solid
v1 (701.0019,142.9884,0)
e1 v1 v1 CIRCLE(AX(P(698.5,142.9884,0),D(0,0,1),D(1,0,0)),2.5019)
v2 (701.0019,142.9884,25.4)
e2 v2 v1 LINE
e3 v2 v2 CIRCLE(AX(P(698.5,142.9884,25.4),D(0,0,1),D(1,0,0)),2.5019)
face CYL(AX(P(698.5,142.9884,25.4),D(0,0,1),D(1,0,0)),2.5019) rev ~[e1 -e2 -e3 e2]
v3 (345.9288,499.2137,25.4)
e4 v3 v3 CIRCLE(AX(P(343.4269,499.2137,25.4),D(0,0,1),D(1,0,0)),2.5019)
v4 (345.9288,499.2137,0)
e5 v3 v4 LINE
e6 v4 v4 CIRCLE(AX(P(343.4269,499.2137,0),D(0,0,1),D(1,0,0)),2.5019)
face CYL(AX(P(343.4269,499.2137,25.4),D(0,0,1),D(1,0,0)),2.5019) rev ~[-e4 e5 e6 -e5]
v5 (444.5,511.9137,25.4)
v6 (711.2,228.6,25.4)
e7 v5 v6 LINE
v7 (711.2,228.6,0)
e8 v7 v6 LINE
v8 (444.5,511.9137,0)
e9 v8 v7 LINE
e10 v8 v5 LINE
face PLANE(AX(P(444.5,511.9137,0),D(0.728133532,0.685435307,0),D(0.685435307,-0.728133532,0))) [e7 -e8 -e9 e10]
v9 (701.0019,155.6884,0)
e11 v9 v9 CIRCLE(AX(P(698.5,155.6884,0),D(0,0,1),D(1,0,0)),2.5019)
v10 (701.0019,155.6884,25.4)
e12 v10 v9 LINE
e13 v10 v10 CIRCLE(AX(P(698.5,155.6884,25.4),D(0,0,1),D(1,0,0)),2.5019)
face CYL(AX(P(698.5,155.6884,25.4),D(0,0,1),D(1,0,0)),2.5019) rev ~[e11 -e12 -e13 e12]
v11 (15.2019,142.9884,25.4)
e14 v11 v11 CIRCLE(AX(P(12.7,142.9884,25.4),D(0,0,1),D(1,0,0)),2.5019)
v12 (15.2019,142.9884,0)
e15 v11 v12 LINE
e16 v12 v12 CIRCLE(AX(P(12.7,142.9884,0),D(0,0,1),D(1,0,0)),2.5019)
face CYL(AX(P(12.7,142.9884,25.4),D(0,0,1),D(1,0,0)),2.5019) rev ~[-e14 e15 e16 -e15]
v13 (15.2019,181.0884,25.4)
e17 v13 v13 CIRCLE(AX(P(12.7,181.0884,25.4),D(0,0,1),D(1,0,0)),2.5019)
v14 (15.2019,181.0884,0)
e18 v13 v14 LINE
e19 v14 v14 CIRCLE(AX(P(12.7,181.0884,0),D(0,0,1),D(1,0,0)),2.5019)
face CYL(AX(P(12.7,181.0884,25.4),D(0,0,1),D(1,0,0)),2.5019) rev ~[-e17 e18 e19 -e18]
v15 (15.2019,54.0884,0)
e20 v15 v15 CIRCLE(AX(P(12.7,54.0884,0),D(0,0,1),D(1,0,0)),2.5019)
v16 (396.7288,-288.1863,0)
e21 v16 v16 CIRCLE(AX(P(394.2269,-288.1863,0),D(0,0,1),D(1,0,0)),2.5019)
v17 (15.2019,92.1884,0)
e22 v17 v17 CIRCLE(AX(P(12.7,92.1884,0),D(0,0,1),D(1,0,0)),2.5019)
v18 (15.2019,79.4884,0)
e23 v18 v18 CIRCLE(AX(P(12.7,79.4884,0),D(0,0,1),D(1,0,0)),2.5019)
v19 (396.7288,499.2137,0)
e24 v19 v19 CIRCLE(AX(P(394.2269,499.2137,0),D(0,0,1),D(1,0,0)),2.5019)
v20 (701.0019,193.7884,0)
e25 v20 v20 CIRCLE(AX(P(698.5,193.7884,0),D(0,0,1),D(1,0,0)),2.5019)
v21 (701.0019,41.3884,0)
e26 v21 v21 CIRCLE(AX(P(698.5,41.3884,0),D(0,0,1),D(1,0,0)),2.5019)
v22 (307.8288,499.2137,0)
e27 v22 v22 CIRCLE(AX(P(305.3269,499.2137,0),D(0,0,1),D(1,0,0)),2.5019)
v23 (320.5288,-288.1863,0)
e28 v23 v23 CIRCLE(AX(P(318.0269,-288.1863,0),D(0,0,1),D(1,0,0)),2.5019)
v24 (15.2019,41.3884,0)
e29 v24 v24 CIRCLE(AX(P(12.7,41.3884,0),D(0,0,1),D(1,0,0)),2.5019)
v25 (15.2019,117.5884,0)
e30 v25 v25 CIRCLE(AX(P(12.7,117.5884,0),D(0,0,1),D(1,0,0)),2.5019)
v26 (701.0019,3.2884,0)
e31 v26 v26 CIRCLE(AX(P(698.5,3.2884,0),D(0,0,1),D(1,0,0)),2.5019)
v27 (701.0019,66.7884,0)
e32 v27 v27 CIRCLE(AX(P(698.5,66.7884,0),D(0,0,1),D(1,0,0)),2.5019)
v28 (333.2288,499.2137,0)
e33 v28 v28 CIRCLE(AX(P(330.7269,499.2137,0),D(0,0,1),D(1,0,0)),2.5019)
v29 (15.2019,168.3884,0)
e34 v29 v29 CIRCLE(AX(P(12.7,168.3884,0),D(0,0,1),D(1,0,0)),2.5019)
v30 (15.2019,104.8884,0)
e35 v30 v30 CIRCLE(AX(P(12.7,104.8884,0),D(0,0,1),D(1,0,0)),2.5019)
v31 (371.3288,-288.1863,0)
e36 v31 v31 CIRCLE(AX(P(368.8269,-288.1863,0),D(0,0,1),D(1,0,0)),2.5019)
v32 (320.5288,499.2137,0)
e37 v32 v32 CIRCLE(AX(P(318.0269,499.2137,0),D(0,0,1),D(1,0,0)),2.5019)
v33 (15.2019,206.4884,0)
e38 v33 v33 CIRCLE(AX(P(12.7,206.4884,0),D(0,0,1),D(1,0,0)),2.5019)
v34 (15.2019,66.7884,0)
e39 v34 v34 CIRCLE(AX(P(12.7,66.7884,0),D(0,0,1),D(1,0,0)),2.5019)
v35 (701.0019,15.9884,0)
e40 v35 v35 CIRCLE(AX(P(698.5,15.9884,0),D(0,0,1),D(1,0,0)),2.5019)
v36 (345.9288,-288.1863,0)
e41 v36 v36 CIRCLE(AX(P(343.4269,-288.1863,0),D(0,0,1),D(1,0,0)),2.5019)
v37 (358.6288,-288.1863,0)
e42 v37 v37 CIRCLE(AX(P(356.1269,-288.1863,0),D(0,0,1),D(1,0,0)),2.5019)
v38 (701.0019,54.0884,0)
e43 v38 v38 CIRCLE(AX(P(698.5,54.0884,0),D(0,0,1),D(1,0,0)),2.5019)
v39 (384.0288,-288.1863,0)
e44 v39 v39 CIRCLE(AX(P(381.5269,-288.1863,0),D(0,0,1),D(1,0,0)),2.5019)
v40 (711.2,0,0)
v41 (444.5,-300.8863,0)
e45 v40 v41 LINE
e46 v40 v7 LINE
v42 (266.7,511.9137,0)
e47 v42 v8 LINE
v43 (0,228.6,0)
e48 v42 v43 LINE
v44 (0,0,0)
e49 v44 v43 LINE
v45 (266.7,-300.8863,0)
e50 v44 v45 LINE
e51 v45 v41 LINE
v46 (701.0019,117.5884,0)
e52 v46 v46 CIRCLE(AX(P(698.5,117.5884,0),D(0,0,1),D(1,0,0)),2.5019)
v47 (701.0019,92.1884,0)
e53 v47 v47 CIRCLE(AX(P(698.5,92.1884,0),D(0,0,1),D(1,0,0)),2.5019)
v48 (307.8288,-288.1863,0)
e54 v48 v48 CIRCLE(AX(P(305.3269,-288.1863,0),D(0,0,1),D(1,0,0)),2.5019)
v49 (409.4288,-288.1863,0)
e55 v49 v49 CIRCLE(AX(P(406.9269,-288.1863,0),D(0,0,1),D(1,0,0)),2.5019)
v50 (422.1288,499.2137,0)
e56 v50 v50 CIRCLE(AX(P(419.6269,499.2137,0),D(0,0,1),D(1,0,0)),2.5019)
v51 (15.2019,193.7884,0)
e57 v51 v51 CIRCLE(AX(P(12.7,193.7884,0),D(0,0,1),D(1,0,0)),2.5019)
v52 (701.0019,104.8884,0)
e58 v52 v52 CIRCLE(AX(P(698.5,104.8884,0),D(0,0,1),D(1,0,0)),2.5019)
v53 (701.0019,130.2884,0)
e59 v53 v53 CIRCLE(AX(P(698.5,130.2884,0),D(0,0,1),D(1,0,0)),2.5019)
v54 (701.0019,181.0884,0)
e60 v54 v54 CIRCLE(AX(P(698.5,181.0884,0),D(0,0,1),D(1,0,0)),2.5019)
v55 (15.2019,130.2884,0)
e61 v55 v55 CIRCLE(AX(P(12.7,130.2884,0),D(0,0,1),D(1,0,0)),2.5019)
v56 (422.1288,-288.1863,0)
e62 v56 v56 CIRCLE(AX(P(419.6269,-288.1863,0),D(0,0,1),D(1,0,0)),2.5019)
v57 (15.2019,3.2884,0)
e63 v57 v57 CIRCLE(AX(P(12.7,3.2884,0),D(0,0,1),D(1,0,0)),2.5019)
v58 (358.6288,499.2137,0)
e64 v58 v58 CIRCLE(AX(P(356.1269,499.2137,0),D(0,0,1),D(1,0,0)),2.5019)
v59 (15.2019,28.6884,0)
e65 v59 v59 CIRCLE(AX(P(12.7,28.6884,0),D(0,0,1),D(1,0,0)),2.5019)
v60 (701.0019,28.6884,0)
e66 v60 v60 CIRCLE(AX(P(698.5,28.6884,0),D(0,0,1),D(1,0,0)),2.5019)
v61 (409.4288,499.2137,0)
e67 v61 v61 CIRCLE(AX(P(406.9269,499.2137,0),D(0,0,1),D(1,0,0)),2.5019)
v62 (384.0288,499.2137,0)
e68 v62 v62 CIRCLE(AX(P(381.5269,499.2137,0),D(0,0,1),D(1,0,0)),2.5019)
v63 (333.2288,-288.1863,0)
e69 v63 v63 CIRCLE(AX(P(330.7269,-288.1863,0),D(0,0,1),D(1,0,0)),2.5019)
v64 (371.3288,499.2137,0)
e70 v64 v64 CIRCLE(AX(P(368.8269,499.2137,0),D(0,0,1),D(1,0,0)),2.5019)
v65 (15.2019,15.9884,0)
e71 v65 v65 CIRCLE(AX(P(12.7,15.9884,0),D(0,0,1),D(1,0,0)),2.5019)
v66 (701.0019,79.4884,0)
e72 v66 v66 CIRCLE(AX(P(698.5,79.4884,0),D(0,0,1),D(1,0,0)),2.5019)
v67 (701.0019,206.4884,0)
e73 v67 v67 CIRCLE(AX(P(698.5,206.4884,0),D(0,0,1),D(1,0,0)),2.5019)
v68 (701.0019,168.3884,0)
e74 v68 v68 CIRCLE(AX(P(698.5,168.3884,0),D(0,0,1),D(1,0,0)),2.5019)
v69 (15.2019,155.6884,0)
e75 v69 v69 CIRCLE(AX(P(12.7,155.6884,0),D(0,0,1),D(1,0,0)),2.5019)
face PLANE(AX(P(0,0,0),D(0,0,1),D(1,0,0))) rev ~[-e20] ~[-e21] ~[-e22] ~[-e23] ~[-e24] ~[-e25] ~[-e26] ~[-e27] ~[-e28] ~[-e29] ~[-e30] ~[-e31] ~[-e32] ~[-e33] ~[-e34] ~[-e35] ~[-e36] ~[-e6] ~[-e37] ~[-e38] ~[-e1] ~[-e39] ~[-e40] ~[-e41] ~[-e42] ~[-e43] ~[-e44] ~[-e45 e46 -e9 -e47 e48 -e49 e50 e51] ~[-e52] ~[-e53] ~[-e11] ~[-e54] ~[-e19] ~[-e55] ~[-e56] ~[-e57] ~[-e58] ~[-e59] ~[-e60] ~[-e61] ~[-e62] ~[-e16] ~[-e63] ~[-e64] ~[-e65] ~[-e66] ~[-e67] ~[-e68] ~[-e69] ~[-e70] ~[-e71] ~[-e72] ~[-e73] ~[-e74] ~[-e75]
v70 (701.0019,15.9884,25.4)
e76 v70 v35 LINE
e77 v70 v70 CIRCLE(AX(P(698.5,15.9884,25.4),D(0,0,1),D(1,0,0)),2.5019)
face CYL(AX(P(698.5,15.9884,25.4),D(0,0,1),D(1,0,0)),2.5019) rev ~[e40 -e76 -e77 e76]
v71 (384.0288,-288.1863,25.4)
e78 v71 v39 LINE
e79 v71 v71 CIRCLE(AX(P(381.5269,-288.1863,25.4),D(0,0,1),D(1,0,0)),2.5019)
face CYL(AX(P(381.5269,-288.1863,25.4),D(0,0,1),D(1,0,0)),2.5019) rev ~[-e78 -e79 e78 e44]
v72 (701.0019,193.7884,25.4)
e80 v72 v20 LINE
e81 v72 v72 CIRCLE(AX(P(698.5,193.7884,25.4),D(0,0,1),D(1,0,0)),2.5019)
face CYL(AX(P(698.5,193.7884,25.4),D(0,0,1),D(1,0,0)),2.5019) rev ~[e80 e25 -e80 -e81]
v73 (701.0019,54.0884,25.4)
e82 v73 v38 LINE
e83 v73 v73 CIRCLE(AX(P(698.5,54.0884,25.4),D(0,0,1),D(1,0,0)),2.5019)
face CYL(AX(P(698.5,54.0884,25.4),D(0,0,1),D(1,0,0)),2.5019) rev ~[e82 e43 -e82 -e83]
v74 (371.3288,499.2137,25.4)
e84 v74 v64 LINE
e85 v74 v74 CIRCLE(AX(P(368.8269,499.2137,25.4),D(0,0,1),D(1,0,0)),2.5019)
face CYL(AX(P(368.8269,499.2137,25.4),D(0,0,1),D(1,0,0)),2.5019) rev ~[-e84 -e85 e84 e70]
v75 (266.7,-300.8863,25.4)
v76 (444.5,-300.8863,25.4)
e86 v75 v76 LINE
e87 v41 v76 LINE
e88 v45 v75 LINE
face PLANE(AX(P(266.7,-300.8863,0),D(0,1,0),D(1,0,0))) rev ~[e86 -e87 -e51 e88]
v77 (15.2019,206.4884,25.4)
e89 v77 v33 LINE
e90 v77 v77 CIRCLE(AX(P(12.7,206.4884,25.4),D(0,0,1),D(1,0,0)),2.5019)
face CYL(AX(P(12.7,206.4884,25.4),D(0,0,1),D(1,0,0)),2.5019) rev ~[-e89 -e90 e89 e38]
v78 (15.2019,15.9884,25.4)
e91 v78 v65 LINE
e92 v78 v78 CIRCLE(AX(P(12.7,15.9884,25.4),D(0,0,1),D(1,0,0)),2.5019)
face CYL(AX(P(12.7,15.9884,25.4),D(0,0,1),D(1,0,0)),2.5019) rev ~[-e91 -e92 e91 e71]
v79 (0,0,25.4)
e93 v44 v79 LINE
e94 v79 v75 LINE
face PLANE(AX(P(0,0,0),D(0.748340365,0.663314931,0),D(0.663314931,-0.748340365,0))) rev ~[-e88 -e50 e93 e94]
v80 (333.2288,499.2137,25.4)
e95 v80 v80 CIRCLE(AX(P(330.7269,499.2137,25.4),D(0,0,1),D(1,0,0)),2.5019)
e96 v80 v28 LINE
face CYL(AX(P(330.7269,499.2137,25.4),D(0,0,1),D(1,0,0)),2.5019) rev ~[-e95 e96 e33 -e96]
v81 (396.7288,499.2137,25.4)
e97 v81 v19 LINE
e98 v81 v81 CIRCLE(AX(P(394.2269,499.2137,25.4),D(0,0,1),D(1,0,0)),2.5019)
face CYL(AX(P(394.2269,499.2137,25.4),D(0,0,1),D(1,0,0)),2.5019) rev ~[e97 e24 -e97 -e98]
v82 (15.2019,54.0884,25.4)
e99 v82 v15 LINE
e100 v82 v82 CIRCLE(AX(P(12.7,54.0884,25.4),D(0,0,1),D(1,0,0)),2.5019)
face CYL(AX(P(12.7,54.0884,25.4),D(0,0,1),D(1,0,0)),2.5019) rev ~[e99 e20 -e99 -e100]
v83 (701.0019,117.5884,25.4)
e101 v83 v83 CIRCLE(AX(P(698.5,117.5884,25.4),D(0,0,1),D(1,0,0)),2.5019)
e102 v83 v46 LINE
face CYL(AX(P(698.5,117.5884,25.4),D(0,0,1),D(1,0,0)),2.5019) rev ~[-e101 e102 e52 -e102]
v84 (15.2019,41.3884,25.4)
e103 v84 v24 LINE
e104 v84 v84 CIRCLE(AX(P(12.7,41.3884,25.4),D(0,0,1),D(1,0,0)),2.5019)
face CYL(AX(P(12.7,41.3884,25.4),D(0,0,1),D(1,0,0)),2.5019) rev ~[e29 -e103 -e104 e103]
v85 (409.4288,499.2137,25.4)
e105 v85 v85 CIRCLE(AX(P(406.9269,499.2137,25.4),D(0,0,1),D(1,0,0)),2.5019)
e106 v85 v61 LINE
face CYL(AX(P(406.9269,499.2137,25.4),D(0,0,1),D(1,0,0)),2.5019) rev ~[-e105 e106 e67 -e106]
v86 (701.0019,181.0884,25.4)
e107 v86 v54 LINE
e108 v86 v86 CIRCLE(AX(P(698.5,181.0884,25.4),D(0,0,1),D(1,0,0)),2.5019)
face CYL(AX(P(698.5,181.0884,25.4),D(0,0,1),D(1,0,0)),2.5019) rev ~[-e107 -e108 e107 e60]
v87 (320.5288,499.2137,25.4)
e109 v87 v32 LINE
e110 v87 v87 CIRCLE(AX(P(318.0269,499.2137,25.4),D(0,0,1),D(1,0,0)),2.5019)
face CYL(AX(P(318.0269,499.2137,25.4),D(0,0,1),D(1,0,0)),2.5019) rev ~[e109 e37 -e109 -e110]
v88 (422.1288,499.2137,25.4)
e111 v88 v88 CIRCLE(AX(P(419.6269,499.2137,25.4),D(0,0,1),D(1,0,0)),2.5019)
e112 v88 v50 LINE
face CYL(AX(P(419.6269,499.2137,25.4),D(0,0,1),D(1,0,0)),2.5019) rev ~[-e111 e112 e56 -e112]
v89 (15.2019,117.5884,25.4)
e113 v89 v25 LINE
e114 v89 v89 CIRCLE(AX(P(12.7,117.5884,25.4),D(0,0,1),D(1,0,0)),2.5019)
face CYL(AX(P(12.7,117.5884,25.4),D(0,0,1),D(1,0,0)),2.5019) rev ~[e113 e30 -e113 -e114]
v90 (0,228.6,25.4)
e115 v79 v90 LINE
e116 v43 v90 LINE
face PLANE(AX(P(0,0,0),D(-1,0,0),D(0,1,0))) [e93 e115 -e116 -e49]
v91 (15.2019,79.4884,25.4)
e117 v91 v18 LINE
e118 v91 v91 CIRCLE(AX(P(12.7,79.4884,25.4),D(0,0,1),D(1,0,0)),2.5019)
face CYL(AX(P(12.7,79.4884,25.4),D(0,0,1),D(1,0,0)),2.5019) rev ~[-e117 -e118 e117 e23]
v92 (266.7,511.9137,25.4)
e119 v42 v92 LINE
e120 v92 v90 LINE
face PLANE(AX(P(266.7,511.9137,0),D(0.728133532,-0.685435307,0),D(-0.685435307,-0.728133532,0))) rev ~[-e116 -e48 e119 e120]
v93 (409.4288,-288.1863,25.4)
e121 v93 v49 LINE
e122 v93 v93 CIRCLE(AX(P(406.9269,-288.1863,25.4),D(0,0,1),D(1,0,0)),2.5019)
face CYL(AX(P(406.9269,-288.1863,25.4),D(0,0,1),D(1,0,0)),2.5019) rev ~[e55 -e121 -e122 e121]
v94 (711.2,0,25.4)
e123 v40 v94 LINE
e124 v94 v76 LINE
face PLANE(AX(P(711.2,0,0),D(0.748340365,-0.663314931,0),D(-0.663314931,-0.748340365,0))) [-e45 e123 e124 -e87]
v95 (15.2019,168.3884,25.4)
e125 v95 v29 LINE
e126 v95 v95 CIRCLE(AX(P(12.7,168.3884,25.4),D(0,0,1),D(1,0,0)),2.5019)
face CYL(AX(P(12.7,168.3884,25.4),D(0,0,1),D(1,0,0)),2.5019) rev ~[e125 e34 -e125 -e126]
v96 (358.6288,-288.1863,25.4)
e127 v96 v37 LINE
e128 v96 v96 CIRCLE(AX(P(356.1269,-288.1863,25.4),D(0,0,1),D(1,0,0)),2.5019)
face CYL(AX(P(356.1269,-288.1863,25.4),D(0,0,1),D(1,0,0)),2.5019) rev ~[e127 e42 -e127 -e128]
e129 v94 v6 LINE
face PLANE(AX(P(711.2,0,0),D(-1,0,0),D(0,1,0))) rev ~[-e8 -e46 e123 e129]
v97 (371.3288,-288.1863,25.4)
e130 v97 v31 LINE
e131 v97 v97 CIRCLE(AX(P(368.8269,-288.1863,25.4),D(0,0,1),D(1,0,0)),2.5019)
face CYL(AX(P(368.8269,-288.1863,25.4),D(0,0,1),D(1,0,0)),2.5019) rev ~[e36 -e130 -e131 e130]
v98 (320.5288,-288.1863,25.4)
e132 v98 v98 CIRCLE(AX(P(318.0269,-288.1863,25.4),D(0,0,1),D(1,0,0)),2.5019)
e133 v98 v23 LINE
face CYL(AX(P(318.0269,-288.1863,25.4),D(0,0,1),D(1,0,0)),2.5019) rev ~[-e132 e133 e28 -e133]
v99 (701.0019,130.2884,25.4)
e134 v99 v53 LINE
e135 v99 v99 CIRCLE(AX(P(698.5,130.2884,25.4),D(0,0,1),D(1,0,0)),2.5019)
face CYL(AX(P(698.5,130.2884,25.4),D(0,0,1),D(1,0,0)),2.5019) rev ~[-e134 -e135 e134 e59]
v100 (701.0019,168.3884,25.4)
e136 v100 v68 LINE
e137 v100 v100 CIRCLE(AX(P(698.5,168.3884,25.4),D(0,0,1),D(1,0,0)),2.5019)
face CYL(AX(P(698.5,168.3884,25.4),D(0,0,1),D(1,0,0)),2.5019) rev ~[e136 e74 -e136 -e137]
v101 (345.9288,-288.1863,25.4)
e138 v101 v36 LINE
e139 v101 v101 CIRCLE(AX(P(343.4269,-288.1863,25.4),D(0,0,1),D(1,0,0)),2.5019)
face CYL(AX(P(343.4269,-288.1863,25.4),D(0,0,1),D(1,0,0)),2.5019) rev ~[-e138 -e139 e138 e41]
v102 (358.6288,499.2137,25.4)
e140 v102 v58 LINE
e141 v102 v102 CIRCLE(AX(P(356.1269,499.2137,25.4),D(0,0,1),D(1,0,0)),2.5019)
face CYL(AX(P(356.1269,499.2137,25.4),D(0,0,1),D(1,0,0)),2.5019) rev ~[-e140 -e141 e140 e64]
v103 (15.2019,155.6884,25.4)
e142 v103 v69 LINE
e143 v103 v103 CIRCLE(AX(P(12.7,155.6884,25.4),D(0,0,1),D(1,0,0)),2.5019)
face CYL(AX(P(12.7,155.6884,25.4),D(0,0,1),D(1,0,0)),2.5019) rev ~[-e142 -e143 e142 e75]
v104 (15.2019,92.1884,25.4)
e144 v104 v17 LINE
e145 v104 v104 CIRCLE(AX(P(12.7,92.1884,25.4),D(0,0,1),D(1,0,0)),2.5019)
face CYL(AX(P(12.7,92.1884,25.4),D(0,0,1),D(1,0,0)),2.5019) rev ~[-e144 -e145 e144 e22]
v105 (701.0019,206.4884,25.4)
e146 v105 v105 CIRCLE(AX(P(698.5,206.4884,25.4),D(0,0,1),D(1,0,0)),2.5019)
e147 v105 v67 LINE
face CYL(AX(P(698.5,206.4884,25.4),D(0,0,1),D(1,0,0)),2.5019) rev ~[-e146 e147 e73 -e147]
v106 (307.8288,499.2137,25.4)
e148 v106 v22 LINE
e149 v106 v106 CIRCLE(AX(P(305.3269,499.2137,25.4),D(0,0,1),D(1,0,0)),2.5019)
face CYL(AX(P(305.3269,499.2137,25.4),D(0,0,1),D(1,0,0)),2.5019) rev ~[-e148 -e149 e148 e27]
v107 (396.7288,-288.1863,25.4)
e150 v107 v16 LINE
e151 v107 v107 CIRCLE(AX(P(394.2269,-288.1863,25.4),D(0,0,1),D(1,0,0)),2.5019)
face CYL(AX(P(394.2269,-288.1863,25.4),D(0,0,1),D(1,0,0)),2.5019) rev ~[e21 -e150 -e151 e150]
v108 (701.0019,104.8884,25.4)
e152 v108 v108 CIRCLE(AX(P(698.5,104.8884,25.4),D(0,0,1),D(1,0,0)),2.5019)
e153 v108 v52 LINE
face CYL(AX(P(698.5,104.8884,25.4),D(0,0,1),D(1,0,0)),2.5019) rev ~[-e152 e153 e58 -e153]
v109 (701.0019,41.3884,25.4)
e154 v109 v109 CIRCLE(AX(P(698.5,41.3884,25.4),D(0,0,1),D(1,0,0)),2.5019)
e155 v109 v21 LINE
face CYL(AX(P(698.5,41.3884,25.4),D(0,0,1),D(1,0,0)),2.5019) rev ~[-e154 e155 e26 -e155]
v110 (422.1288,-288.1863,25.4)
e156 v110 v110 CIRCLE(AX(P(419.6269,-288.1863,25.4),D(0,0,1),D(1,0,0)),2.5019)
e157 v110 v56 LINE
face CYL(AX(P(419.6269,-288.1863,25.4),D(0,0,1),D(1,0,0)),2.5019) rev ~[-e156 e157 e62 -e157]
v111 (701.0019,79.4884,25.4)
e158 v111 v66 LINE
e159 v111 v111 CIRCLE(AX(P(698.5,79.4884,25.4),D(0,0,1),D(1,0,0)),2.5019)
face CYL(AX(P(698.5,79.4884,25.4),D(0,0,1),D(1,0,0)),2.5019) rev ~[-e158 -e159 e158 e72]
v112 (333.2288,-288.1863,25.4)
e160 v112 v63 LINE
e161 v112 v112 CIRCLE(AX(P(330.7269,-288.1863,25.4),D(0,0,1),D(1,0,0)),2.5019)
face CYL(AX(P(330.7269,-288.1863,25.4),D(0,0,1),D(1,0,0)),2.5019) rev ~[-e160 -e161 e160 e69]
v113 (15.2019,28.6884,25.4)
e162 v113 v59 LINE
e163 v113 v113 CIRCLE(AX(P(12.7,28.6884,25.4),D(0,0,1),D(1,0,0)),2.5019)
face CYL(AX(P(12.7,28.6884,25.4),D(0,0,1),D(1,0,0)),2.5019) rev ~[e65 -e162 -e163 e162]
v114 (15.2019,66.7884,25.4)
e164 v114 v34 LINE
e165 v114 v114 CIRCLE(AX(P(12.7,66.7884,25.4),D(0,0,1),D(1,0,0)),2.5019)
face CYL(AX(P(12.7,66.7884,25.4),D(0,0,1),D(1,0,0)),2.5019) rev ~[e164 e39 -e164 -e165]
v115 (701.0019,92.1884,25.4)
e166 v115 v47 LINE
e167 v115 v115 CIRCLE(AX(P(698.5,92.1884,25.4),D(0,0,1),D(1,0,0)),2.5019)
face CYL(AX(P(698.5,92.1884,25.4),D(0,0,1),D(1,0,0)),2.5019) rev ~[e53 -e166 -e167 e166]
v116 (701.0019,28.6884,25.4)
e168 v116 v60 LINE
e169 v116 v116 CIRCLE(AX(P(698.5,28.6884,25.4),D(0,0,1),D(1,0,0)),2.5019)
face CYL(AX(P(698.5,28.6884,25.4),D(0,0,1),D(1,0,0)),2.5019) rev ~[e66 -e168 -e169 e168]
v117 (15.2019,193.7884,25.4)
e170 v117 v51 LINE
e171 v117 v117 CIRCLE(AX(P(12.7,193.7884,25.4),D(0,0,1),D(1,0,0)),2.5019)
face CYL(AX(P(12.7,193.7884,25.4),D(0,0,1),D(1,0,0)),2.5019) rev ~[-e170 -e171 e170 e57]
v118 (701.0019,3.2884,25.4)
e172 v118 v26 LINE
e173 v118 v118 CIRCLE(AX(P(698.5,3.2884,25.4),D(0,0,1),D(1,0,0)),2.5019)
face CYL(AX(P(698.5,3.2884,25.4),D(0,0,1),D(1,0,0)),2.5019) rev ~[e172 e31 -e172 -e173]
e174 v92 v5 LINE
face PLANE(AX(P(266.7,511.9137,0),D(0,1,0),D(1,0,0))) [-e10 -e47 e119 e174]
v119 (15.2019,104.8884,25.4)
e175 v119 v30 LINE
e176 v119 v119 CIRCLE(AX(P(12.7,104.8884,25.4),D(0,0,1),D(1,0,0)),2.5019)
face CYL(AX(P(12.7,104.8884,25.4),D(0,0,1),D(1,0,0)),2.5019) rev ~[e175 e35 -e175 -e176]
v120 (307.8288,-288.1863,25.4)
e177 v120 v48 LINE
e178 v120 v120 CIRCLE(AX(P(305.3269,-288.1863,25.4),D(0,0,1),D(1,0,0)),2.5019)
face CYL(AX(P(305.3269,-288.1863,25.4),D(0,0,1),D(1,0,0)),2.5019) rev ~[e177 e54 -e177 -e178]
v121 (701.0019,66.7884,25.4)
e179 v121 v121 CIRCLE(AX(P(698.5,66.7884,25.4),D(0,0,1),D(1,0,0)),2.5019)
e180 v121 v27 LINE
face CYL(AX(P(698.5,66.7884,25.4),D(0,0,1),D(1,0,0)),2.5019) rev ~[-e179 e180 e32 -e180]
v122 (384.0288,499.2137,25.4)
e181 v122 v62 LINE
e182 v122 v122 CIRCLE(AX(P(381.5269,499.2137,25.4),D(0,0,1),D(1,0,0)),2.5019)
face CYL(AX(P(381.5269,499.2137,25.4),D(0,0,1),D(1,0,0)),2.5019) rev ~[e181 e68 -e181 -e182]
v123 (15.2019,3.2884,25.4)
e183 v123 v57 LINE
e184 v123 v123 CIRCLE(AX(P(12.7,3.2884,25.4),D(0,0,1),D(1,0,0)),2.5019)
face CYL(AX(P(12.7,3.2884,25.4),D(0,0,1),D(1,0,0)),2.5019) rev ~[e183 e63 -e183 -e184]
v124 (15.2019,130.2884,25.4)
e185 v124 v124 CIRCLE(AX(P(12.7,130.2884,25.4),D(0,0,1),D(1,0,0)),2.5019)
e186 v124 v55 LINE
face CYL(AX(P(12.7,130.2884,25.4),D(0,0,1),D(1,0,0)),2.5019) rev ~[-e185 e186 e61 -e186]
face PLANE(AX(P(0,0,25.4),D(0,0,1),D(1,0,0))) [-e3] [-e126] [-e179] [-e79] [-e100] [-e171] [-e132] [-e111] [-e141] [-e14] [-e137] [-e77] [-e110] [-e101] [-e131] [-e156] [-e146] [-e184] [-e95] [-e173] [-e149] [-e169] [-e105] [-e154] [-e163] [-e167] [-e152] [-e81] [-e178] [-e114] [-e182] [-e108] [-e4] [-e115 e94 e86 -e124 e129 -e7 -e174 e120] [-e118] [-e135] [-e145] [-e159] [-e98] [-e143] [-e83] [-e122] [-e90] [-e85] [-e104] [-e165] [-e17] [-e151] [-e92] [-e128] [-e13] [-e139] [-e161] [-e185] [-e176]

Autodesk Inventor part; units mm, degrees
ref_plane "YZ Plane" through (0, 0, 0) normal (1, 0, 0) x (0, 1, 0)
ref_plane "XZ Plane" through (0, 0, 0) normal (0, 1, 0) x (-1, 0, 0)
ref_plane "XY Plane" through (0, 0, 0) normal (0, 0, 1) x (1, 0, 0)
sketch "Sketch1" plane through (0, 0, 0) normal (0, 0, 1) x (1, 0, 0)
  line L0 (0, 0) -> (0, 228.6)
  line L1 (711.2, 0) -> (711.2, 228.6)
  line L2 (266.7, -300.8863) -> (444.5, -300.8863)
  line L3 (355.6, 0) -> (355.6, 228.6)
  line L4 (266.7, 511.9137) -> (444.5, 511.9137)
  line L5 (266.7, 511.9137) -> (0, 228.6)
  line L6 (444.5, 511.9137) -> (711.2, 228.6)
  line L7 (711.2, 0) -> (444.5, -300.8863)
  line L8 (0, 0) -> (266.7, -300.8863)
  point P0 (355.6, -300.8863)
  point P1 (355.6, 511.9137)
  dimension "d39" = 228.6
  dimension "d40" = 711.2
  dimension "d41" = 177.8
  dimension "d42" = 355.6
  dimension "d43" = 177.8
  dimension "d46" = 812.8
  dimension "d47" = 300.8863
extrude "Extrusion1" add sketch "Sketch1" along normal blind 25.4
sketch "Sketch3" plane through (0, 0, 25.4) normal (0, 0, 1) x (1, 0, 0)
  line L0 (444.5, -300.8863) -> (711.2, 0) projected
  line L1 (711.2, 0) -> (711.2, 228.6) projected
  line L2 (711.2, 228.6) -> (444.5, 511.9137) projected
  line L3 (444.5, 511.9137) -> (266.7, 511.9137) projected
  line L4 (266.7, 511.9137) -> (0, 228.6) projected
  line L5 (0, 228.6) -> (0, 0) projected
  line L6 (0, 0) -> (266.7, -300.8863) projected
  line L7 (266.7, -300.8863) -> (444.5, -300.8863) projected
  circle A0 centre (419.6269, 499.2137) radius 2.5019
  line L8 (254.7447, 499.2137) -> (456.4553, 499.2137) construction
  circle A1 centre (406.9269, 499.2137) radius 2.5019
  line L9 (242.0447, 499.2137) -> (443.7553, 499.2137) construction
  circle A2 centre (394.2269, 499.2137) radius 2.5019
  line L10 (229.3447, 499.2137) -> (431.0553, 499.2137) construction
  circle A3 centre (381.5269, 499.2137) radius 2.5019
  line L11 (216.6447, 499.2137) -> (418.3553, 499.2137) construction
  circle A4 centre (368.8269, 499.2137) radius 2.5019
  line L12 (203.9447, 499.2137) -> (405.6553, 499.2137) construction
  circle A5 centre (356.1269, 499.2137) radius 2.5019
  line L13 (191.2447, 499.2137) -> (392.9553, 499.2137) construction
  circle A6 centre (343.4269, 499.2137) radius 2.5019
  line L14 (178.5447, 499.2137) -> (380.2553, 499.2137) construction
  circle A7 centre (330.7269, 499.2137) radius 2.5019
  line L15 (165.8447, 499.2137) -> (367.5553, 499.2137) construction
  circle A8 centre (318.0269, 499.2137) radius 2.5019
  line L16 (153.1447, 499.2137) -> (354.8553, 499.2137) construction
  circle A9 centre (305.3269, 499.2137) radius 2.5019
  line L17 (140.4447, 499.2137) -> (342.1553, 499.2137) construction
  circle A10 centre (305.3269, -288.1863) radius 2.5019
  line L18 (305.3269, 499.2137) -> (305.3269, -288.1863) construction
  line L19 (257.0535, -288.1863) -> (455.757, -288.1863) construction
  circle A11 centre (318.0269, -288.1863) radius 2.5019
  line L20 (269.7535, -288.1863) -> (468.457, -288.1863) construction
  circle A12 centre (330.7269, -288.1863) radius 2.5019
  line L21 (282.4535, -288.1863) -> (481.157, -288.1863) construction
  circle A13 centre (343.4269, -288.1863) radius 2.5019
  line L22 (295.1535, -288.1863) -> (493.857, -288.1863) construction
  circle A14 centre (356.1269, -288.1863) radius 2.5019
  line L23 (307.8535, -288.1863) -> (506.557, -288.1863) construction
  circle A15 centre (368.8269, -288.1863) radius 2.5019
  line L24 (320.5535, -288.1863) -> (519.257, -288.1863) construction
  circle A16 centre (381.5269, -288.1863) radius 2.5019
  line L25 (333.2535, -288.1863) -> (531.957, -288.1863) construction
  circle A17 centre (394.2269, -288.1863) radius 2.5019
  line L26 (345.9535, -288.1863) -> (544.657, -288.1863) construction
  circle A18 centre (406.9269, -288.1863) radius 2.5019
  line L27 (358.6535, -288.1863) -> (557.357, -288.1863) construction
  circle A19 centre (419.6269, -288.1863) radius 2.5019
  line L28 (371.3535, -288.1863) -> (570.057, -288.1863) construction
  circle A20 centre (12.7, 206.4884) radius 2.5019
  line L29 (12.7, 242.0911) -> (12.7, -14.3279) construction
  circle A21 centre (12.7, 193.7884) radius 2.5019
  line L30 (12.7, 229.3911) -> (12.7, -27.0279) construction
  circle A22 centre (12.7, 181.0884) radius 2.5019
  line L31 (12.7, 216.6911) -> (12.7, -39.7279) construction
  circle A23 centre (12.7, 168.3884) radius 2.5019
  line L32 (12.7, 203.9911) -> (12.7, -52.4279) construction
  circle A24 centre (12.7, 155.6884) radius 2.5019
  line L33 (12.7, 191.2911) -> (12.7, -65.1279) construction
  circle A25 centre (12.7, 142.9884) radius 2.5019
  line L34 (12.7, 178.5911) -> (12.7, -77.8279) construction
  circle A26 centre (12.7, 130.2884) radius 2.5019
  line L35 (12.7, 165.8911) -> (12.7, -90.5279) construction
  circle A27 centre (12.7, 117.5884) radius 2.5019
  line L36 (12.7, 153.1911) -> (12.7, -103.2279) construction
  circle A28 centre (12.7, 104.8884) radius 2.5019
  line L37 (12.7, 140.4911) -> (12.7, -115.9279) construction
  circle A29 centre (12.7, 92.1884) radius 2.5019
  line L38 (12.7, 127.7911) -> (12.7, -128.6279) construction
  circle A30 centre (12.7, 79.4884) radius 2.5019
  line L39 (12.7, 115.0911) -> (12.7, -141.3279) construction
  circle A31 centre (12.7, 66.7884) radius 2.5019
  line L40 (12.7, 102.3911) -> (12.7, -154.0279) construction
  circle A32 centre (12.7, 54.0884) radius 2.5019
  line L41 (12.7, 89.6911) -> (12.7, -166.7279) construction
  circle A33 centre (12.7, 41.3884) radius 2.5019
  line L42 (12.7, 76.9911) -> (12.7, -179.4279) construction
  circle A34 centre (12.7, 28.6884) radius 2.5019
  line L43 (12.7, 64.2911) -> (12.7, -192.1279) construction
  circle A35 centre (12.7, 15.9884) radius 2.5019
  line L44 (12.7, 51.5911) -> (12.7, -204.8279) construction
  circle A36 centre (12.7, 3.2884) radius 2.5019
  line L45 (12.7, 38.8911) -> (12.7, -217.5279) construction
  circle A37 centre (12.7, -9.4116) radius 2.5019 construction
  line L46 (12.7, 26.1911) -> (12.7, -230.2279) construction
  circle A38 centre (698.5, 206.4884) radius 2.5019
  line L47 (12.7, 206.4884) -> (698.5, 206.4884) construction
  line L48 (698.5, 242.0911) -> (698.5, -14.3279) construction
  circle A39 centre (698.5, 193.7884) radius 2.5019
  circle A40 centre (698.5, 181.0884) radius 2.5019
  circle A41 centre (698.5, 168.3884) radius 2.5019
  circle A42 centre (698.5, 155.6884) radius 2.5019
  circle A43 centre (698.5, 142.9884) radius 2.5019
  circle A44 centre (698.5, 130.2884) radius 2.5019
  circle A45 centre (698.5, 117.5884) radius 2.5019
  circle A46 centre (698.5, 104.8884) radius 2.5019
  circle A47 centre (698.5, 92.1884) radius 2.5019
  circle A48 centre (698.5, 79.4884) radius 2.5019
  circle A49 centre (698.5, 66.7884) radius 2.5019
  circle A50 centre (698.5, 54.0884) radius 2.5019
  circle A51 centre (698.5, 41.3884) radius 2.5019
  circle A52 centre (698.5, 28.6884) radius 2.5019
  circle A53 centre (698.5, 15.9884) radius 2.5019
  circle A54 centre (698.5, 3.2884) radius 2.5019
  circle A55 centre (698.5, -9.4116) radius 2.5019 construction
  dimension "d48" = 5.0038
  dimension "d50" = 12.7
  dimension "d55" = 12.7
  dimension "d60" = 5.0038
  dimension "d61" = 12.7
  dimension "d64" = 12.7
  dimension "d69" = 5.0038
  dimension "d70" = 12.7
  dimension "d73" = 12.7
  dimension "d78" = 5.0038
  dimension "d79" = 12.7
  dimension "d82" = 12.7
extrude "Extrusion2" cut sketch "Sketch3" against normal through all contours A0 | A1 | A2 | A3 | A4 | A5 | A6 | A7 | A8 | A9 | A10 | A11 | A12 | A13 | A14 | A15 | A16 | A17 | A18 | A19 | A20 | A21 | A22 | A23 | A24 | A25 | A26 | A27 | A28 | A29 | A30 | A31 | A32 | A33 | A34 | A35 | A36 | A38 | A39 | A40 | A41 | A42 | A43 | A44 | A45 | A46 | A47 | A48 | A49 | A50 | A51 | A52 | A53 | A54
properties part number "DVBS_008_bellypan" material "Aluminum 6061"
